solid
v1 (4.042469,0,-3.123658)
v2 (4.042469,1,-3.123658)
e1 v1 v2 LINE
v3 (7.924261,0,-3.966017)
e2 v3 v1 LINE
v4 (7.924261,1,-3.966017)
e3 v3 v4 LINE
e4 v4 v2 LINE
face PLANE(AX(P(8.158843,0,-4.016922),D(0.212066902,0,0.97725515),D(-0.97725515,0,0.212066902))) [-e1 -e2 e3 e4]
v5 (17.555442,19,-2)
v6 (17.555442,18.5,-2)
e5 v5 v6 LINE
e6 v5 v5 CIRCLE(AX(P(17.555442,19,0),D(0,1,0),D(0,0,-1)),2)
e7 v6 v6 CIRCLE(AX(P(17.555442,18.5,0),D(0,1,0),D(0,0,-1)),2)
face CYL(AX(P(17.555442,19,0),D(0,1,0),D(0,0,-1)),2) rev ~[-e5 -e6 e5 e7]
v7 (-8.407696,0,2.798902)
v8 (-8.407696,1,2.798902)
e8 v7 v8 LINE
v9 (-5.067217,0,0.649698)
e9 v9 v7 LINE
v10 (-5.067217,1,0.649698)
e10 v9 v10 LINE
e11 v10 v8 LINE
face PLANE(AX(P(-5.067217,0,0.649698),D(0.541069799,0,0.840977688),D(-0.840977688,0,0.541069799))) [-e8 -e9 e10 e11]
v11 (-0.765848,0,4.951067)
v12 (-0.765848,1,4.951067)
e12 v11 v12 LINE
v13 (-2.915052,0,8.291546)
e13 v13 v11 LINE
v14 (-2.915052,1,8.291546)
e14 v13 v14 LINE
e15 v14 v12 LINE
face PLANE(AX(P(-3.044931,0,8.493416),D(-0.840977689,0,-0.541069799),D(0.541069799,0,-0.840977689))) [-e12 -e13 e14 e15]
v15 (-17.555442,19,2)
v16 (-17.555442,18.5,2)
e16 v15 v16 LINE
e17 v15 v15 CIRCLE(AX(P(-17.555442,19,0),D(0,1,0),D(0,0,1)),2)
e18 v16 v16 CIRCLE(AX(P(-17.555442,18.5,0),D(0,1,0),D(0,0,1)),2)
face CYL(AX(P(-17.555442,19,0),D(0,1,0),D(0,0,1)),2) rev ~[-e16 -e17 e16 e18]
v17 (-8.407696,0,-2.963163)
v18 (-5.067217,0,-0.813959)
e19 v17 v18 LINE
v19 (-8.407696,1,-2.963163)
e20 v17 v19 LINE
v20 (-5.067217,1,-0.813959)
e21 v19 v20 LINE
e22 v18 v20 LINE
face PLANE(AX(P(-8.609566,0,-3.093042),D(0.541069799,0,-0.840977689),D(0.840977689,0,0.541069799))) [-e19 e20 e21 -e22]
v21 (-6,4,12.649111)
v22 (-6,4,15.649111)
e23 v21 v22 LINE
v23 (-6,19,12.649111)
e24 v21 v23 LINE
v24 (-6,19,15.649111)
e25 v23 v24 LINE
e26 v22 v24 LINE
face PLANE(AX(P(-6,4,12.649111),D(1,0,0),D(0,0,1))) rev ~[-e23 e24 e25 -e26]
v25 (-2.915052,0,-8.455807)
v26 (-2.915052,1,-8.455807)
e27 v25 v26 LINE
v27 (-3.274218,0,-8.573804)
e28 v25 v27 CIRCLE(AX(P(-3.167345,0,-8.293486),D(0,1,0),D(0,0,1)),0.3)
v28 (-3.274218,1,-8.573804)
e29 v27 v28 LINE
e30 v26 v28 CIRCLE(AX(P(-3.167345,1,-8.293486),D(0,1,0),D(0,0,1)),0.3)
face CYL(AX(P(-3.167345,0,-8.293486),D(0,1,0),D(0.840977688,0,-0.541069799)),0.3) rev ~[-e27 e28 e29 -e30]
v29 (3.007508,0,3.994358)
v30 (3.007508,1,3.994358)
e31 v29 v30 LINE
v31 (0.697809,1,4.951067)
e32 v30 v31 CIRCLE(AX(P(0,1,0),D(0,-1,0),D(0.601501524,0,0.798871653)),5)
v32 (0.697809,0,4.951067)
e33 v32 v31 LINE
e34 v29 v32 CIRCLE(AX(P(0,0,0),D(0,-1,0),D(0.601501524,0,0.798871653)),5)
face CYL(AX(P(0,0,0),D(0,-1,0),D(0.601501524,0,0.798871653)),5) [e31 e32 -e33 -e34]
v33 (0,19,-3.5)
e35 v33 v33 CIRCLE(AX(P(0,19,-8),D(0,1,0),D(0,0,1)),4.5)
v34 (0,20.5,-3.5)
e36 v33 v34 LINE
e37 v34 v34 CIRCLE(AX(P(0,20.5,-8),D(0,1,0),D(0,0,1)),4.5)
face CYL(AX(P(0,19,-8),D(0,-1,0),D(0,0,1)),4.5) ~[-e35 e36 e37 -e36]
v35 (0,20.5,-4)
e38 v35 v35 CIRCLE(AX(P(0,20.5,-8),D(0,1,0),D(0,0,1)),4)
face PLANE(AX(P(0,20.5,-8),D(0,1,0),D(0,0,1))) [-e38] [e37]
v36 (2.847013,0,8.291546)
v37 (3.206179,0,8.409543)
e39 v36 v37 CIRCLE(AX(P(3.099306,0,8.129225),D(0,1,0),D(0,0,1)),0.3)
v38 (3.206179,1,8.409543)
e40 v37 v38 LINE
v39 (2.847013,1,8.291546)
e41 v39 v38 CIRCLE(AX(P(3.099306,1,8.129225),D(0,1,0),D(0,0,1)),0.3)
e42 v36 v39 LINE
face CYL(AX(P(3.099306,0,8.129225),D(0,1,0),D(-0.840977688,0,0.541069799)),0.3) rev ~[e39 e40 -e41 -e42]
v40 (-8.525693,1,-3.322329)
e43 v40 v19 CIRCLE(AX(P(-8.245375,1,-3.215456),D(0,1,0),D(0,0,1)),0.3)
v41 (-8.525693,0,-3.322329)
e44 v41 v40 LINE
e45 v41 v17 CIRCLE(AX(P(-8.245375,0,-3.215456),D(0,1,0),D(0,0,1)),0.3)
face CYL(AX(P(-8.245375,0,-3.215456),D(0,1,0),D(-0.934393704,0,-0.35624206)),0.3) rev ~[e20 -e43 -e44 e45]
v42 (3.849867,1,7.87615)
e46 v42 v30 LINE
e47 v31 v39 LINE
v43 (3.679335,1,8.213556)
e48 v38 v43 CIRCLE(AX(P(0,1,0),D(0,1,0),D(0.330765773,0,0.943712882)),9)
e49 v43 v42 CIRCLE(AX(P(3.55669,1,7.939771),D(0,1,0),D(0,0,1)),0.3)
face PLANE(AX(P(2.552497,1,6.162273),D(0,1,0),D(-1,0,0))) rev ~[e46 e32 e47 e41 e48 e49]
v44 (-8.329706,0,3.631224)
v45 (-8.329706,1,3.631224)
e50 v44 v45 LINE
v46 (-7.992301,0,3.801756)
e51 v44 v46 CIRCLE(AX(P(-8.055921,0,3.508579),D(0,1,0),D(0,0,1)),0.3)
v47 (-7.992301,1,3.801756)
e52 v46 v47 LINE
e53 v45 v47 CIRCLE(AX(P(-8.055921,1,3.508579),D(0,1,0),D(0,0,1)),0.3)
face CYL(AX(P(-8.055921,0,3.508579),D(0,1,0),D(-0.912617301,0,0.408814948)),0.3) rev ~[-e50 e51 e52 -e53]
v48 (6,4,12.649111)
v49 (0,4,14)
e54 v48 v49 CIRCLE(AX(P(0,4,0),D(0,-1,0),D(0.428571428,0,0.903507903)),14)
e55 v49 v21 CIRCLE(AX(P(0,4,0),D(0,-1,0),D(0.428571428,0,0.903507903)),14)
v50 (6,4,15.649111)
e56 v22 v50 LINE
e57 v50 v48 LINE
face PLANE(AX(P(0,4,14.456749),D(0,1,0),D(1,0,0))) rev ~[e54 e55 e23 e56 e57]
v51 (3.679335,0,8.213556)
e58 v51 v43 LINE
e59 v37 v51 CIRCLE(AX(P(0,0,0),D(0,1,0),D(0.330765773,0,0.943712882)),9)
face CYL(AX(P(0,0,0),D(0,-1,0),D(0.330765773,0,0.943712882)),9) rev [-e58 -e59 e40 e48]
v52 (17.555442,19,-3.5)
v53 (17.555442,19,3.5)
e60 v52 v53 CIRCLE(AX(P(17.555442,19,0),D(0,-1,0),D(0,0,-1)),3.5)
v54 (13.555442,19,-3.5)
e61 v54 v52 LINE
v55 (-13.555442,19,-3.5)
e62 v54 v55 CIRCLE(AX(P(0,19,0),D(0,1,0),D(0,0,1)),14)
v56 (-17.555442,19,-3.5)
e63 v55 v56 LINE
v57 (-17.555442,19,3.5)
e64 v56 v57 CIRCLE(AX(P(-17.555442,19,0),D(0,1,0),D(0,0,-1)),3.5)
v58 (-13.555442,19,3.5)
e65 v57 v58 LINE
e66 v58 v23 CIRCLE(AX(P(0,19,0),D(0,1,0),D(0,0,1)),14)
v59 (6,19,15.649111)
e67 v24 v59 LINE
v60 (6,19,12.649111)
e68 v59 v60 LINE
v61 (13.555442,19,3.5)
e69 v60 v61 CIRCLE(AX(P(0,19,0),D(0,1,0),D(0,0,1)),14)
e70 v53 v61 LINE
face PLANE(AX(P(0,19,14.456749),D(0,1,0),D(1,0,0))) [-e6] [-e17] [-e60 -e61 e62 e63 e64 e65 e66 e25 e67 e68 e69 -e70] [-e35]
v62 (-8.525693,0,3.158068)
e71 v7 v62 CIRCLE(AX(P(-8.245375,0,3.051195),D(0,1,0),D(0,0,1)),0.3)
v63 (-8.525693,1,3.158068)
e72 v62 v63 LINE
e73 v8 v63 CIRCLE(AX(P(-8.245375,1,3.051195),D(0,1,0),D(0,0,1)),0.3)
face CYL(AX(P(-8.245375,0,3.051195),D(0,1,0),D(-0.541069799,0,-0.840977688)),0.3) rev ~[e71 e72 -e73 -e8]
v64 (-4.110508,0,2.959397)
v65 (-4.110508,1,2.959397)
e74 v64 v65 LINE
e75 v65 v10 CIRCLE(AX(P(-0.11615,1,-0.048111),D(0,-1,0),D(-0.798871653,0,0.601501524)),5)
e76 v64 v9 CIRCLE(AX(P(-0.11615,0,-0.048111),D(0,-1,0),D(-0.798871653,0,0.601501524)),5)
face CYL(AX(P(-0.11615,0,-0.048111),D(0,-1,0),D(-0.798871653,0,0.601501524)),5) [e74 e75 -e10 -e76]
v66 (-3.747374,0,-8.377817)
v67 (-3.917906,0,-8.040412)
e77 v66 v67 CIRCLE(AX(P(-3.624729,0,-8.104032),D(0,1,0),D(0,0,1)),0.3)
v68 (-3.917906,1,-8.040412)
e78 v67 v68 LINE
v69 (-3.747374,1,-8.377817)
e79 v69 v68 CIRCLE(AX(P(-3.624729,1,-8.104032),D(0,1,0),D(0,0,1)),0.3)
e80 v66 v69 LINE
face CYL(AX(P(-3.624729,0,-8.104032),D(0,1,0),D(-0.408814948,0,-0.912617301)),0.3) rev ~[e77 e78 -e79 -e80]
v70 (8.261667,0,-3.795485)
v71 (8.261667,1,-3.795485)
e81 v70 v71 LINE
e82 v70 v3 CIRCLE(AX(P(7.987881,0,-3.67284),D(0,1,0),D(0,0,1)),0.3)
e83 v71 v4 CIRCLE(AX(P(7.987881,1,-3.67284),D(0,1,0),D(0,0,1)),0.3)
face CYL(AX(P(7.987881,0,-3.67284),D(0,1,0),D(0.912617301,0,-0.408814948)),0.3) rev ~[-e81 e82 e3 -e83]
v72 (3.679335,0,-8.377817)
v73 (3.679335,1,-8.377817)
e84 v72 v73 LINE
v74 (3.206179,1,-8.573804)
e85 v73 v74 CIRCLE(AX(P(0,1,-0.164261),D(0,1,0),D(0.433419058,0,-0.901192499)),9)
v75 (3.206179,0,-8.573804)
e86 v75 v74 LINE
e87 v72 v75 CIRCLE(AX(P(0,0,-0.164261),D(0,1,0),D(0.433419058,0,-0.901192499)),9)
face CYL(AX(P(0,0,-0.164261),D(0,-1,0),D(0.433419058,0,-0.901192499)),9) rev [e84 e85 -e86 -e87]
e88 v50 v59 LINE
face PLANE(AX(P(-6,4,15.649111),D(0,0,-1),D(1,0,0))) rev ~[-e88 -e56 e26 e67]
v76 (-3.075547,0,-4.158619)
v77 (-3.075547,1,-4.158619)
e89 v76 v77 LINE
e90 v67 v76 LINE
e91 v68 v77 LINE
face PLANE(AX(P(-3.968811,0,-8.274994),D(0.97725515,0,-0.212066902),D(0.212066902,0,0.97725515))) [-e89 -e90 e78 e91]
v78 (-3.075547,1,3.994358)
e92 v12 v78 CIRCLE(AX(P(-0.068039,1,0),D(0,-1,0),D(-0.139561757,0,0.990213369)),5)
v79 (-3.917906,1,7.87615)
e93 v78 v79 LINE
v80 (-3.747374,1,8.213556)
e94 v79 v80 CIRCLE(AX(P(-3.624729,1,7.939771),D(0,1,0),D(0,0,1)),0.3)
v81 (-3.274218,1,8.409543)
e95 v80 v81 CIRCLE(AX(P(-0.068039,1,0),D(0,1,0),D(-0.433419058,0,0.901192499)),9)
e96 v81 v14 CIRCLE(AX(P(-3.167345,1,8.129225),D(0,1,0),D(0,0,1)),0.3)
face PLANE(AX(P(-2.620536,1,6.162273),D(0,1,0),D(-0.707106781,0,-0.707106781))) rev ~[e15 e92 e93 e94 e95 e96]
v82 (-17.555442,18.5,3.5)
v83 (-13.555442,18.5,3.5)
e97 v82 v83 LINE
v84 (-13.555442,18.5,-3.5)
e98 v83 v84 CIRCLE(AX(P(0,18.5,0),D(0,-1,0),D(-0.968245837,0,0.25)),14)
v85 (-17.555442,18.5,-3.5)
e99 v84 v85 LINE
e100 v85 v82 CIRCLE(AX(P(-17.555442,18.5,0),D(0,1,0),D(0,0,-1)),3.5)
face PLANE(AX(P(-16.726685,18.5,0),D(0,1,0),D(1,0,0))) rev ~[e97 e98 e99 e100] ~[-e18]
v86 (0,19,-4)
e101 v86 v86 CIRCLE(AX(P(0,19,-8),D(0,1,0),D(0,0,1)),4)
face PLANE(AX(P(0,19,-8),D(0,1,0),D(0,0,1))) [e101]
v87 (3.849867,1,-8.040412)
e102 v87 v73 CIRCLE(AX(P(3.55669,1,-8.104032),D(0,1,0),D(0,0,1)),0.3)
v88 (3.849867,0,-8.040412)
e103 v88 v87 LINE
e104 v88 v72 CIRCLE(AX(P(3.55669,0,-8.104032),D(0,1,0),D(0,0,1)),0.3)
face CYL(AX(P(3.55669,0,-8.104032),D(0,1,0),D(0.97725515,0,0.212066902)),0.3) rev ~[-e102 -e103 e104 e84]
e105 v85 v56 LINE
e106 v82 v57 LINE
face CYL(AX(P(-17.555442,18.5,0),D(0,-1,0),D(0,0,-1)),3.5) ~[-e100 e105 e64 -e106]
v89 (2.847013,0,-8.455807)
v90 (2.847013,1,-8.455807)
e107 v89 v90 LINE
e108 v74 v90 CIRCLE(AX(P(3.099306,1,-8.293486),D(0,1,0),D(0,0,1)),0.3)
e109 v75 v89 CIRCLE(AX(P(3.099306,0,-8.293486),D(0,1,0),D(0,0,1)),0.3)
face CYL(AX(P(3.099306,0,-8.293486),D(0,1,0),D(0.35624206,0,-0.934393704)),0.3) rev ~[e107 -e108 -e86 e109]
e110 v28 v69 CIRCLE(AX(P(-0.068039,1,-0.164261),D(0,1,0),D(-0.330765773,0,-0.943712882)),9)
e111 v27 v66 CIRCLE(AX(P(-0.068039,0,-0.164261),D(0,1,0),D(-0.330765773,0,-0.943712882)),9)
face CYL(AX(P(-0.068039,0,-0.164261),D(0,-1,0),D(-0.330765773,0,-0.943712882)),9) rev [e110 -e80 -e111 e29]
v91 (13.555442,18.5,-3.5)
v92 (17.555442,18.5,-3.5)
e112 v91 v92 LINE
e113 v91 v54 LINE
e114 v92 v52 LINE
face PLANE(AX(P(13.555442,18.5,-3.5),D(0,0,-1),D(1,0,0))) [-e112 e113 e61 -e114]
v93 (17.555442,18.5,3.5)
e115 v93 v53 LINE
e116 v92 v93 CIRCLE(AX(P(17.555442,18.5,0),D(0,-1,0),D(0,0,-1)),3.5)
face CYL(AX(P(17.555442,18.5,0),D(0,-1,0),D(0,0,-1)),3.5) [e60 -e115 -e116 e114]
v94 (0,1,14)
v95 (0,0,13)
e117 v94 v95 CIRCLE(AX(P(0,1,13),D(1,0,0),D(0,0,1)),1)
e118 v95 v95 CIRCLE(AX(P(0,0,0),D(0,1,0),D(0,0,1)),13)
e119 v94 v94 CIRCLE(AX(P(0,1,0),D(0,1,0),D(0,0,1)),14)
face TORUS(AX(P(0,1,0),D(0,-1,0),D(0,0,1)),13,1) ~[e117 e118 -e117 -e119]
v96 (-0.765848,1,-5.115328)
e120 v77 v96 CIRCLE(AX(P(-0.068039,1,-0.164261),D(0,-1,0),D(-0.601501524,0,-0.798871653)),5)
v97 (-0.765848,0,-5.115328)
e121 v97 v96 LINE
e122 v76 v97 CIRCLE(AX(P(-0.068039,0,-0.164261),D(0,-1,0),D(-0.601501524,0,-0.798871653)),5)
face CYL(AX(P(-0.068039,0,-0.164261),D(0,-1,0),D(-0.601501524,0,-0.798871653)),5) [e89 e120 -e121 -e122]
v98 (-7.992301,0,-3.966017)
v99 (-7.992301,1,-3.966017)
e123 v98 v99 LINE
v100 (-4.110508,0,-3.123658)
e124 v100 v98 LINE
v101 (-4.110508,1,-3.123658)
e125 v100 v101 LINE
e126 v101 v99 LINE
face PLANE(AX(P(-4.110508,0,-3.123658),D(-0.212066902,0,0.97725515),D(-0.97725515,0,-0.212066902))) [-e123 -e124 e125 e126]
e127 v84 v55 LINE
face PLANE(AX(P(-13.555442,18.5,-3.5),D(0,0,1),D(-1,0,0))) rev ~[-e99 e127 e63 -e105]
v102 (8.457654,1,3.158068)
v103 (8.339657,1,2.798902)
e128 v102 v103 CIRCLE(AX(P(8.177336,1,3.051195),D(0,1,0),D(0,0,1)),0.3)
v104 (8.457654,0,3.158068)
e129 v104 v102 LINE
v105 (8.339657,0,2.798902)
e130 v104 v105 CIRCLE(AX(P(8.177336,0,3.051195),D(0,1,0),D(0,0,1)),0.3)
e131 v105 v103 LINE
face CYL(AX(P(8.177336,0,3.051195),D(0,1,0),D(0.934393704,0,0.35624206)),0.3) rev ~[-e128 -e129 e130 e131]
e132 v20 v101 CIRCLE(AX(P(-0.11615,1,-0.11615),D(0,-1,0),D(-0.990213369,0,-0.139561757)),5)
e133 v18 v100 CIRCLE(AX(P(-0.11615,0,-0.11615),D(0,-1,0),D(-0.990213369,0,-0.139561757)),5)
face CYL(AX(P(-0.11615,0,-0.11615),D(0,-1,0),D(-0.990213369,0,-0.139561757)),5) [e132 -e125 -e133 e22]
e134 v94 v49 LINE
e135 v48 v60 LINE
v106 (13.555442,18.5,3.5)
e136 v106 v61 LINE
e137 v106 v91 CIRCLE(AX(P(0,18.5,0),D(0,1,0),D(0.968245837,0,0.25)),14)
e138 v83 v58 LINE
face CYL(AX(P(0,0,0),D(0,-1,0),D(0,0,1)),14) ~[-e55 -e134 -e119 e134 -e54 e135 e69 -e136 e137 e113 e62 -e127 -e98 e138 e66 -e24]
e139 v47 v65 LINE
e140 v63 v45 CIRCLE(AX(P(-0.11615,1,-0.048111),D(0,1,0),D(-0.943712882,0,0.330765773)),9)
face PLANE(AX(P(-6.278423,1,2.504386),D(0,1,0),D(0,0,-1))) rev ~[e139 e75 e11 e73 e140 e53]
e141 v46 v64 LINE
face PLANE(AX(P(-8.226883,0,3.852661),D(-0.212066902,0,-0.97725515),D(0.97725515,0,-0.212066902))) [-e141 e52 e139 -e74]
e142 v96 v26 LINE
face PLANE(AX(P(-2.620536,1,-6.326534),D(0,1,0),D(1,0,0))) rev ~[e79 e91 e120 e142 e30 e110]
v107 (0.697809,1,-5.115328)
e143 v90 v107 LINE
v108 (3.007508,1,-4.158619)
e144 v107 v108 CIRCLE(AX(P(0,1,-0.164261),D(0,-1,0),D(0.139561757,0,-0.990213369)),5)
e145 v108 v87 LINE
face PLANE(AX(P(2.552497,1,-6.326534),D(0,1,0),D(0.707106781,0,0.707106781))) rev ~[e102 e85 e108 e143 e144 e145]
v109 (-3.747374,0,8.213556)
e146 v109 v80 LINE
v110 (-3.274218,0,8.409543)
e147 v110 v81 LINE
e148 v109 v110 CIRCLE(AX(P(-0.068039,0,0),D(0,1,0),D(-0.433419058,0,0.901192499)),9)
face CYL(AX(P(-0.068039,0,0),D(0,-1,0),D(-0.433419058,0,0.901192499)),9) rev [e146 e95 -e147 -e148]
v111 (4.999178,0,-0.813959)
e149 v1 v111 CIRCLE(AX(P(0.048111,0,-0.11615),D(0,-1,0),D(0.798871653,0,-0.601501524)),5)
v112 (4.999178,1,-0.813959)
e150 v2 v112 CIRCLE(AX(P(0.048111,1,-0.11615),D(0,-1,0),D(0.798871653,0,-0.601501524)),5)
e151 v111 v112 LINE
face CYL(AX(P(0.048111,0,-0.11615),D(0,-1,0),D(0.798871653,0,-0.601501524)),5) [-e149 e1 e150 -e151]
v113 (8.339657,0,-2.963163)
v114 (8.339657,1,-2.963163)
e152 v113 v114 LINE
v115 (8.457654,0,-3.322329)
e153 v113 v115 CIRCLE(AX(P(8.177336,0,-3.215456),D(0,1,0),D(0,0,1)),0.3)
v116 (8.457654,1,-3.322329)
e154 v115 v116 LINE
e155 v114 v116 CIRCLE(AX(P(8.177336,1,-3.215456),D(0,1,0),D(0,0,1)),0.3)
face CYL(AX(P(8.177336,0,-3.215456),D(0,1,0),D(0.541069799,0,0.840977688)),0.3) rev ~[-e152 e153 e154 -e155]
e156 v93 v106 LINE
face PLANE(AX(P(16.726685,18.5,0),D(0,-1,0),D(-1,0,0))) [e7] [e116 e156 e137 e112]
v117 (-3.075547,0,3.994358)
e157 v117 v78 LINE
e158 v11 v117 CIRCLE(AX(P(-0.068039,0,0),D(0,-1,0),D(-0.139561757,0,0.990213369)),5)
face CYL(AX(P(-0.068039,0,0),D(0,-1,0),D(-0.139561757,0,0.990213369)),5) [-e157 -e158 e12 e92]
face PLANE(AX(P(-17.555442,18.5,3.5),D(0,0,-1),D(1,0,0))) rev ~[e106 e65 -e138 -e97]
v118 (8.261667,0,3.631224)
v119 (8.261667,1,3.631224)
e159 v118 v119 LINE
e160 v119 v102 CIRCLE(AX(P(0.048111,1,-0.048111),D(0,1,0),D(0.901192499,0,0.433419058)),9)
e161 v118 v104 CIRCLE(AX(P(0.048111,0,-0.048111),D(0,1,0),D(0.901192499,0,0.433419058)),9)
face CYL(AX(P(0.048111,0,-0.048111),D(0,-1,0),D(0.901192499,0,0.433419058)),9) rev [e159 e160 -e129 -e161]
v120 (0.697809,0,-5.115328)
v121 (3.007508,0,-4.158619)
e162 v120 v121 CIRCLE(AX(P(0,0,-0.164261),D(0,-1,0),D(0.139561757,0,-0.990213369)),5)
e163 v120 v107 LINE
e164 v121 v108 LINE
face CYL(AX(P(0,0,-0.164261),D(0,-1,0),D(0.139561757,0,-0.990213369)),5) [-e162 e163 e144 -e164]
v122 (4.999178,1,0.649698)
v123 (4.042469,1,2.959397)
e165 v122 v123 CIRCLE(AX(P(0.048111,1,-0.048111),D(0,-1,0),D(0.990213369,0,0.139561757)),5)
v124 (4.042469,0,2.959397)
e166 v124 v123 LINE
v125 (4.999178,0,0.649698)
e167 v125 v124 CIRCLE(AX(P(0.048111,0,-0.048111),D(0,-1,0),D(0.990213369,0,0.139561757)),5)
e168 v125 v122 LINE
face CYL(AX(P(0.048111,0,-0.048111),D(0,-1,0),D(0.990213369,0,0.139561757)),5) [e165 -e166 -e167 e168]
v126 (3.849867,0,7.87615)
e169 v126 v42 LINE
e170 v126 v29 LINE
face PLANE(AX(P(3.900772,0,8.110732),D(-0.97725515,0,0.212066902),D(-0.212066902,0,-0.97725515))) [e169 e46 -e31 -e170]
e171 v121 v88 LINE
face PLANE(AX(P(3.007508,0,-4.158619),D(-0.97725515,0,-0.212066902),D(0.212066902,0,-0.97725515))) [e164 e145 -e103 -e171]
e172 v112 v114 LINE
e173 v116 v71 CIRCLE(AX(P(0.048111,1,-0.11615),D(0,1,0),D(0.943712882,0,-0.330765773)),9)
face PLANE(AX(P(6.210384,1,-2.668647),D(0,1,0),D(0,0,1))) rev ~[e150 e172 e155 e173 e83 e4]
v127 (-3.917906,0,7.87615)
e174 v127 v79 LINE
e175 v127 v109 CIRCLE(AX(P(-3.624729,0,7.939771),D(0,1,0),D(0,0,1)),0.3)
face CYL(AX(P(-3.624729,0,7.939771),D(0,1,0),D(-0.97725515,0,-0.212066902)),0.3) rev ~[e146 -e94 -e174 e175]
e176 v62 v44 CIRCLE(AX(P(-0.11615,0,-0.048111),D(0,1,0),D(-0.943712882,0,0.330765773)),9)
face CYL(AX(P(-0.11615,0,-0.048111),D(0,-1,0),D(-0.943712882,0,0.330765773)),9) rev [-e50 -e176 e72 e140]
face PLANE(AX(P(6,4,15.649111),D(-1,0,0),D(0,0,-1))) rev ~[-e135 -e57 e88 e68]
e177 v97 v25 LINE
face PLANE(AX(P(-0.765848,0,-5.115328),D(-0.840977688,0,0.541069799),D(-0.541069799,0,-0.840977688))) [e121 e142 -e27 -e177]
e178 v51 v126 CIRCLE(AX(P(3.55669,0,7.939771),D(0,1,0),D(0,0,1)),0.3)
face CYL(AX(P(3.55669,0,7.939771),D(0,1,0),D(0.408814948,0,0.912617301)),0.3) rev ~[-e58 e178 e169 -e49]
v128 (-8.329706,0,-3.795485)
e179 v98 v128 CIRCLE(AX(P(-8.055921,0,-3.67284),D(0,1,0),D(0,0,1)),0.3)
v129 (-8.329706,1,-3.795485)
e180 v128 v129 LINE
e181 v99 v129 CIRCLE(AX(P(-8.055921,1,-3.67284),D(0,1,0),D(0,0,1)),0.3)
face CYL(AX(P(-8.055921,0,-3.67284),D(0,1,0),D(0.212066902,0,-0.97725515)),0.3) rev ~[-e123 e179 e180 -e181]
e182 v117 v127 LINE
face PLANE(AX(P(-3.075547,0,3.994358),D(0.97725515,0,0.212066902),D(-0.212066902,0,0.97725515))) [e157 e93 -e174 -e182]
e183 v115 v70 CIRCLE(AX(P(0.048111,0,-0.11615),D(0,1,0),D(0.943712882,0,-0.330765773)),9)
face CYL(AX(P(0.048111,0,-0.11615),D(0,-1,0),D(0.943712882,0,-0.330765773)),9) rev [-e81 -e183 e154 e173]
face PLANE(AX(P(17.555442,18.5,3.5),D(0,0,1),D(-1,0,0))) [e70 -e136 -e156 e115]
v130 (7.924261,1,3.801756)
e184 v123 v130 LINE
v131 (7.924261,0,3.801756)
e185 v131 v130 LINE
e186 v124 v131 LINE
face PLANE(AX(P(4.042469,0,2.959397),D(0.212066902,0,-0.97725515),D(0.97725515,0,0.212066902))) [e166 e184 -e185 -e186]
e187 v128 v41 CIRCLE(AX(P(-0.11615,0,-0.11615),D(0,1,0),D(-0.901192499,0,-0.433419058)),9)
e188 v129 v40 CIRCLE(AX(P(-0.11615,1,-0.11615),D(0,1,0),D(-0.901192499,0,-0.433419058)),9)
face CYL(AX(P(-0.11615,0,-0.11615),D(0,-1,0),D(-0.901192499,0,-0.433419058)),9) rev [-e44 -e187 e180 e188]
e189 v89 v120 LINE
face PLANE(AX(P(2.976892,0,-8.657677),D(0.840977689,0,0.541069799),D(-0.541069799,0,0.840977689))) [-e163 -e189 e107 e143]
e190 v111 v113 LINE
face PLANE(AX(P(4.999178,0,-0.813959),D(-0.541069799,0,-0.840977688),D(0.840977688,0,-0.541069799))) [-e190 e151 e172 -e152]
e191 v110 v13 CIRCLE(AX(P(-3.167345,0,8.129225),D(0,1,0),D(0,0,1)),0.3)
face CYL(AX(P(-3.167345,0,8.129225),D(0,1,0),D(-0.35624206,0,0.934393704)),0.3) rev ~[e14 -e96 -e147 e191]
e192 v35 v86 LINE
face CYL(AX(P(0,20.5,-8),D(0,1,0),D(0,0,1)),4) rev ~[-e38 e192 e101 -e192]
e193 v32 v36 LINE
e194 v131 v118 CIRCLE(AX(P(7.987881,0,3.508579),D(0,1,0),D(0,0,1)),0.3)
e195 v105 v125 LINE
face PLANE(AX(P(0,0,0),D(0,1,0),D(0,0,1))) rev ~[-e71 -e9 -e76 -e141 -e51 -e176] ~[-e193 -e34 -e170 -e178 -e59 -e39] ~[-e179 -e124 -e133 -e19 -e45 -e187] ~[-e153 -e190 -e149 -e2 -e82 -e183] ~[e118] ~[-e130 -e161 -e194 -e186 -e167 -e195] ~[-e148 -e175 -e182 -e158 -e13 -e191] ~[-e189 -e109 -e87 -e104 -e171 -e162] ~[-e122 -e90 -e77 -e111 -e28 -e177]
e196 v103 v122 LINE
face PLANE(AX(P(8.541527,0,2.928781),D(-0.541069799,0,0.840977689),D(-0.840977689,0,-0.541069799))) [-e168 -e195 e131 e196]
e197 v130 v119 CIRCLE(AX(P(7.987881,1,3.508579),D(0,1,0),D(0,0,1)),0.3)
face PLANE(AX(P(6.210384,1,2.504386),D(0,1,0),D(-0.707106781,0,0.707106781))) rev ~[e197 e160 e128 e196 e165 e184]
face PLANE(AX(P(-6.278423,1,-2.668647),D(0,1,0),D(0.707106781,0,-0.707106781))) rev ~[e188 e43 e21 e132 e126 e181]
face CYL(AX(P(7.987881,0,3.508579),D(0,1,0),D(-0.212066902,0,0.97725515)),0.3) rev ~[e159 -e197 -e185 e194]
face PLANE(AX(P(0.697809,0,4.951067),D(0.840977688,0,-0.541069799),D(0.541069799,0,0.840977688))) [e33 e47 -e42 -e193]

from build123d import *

# Parameters (mm, degrees)
SKETCH_1_R                       = 14
EXTRUDE_1_DEPTH                  = 19
SKETCH_2_R                       = 4.5
EXTRUDE_2_DEPTH                  = 1.5
SKETCH_3_R                       = 4
CUT_EXTRUDE_1_DEPTH              = 1.5
EXTRUDE_START                    = -0.5
EXTRUDE_3_DEPTH                  = 0.5
SKETCH_5_R                       = 2
CUT_EXTRUDE_2_DEPTH              = 32.628019629
EXTRUDE_START_2                  = -15
EXTRUDE_4_DEPTH                  = 15
FILLET_1_R                       = 1
CUT_EXTRUDE_3_DEPTH              = 1
FILLET_2_R                       = 0.3
PATTERN_CIRCULAR_1_COUNT         = 8
FILLET_2_OF_PATTERN_CIRCULAR_1_R = 0.3


with BuildPart() as part:
    # 草图1 → 凸台-拉伸1 (new body)
    with BuildSketch(Plane(origin=(0, 0, 0), x_dir=(1, 0, 0), z_dir=(0, 1, 0))):
        with Locations(Location((0, 0, 0), (0, 0, 270))):
            Circle(SKETCH_1_R)
    extrude(amount=EXTRUDE_1_DEPTH)

    # 草图2 → 凸台-拉伸2 (add)
    with BuildSketch(Plane(origin=(0, 19, 0), x_dir=(1, 0, 0), z_dir=(0, 1, 0))):
        with Locations(Location((0, 8, 0), (0, 0, 270))):
            Circle(SKETCH_2_R)
    extrude(amount=EXTRUDE_2_DEPTH)

    # 草图3 → 切除-拉伸1 (cut)
    with BuildSketch(Plane(origin=(0, 20.5, 0), x_dir=(1, 0, 0), z_dir=(0, 1, 0))):
        with Locations(Location((0, 8, 0), (0, 0, 270))):
            Circle(SKETCH_3_R)
    extrude(amount=-CUT_EXTRUDE_1_DEPTH, mode=Mode.SUBTRACT)

    # 草图4 → 凸台-拉伸3 (add)
    with BuildSketch(Plane(origin=(0, 19, 0), x_dir=(1, 0, 0), z_dir=(0, 1, 0)).offset(EXTRUDE_START)):
        with BuildLine():
            Line((-13.555441712, 3.5), (-17.555441712, 3.5))
            ThreePointArc((-17.555441712, 3.5), (-21.055441712, 0), (-17.555441712, -3.5))
            Line((-17.555441712, -3.5), (-13.555441712, -3.5))
            ThreePointArc((-13.555441712, -3.5), (-14, 0), (-13.555441712, 3.5))
        make_face()
        with BuildLine():
            Line((13.555441712, 3.5), (17.555441712, 3.5))
            ThreePointArc((17.555441712, 3.5), (21.055441712, 0), (17.555441712, -3.5))
            Line((17.555441712, -3.5), (13.555441712, -3.5))
            ThreePointArc((13.555441712, -3.5), (14, 0), (13.555441712, 3.5))
        make_face()
    extrude(amount=EXTRUDE_3_DEPTH)

    # 草图5 → 切除-拉伸2 (cut, through all)
    with BuildSketch(Plane(origin=(0, 19, 0), x_dir=(1, 0, 0), z_dir=(0, 1, 0))):
        with Locations(Location((-17.555441712, 0, 0), (0, 0, 270))):
            Circle(SKETCH_5_R)
        with Locations(Location((17.555441712, 0, 0), (0, 0, 90))):
            Circle(SKETCH_5_R)
    extrude(amount=-CUT_EXTRUDE_2_DEPTH, mode=Mode.SUBTRACT)

    # 草图6 → 凸台-拉伸4 (add)
    with BuildSketch(Plane(origin=(0, 19, 0), x_dir=(1, 0, 0), z_dir=(0, 1, 0)).offset(EXTRUDE_START_2)):
        with BuildLine():
            Line((-6, -12.649110641), (-6, -15.649110641))
            Line((-6, -15.649110641), (6, -15.649110641))
            Line((6, -15.649110641), (6, -12.649110641))
            ThreePointArc((6, -12.649110641), (0, -14), (-6, -12.649110641))
        make_face()
    extrude(amount=EXTRUDE_4_DEPTH)

    # 圆角1
    fillet_1_edges = [part.edges().sort_by_distance(p)[0] for p in [
        (0, 0, -14),
    ]]
    fillet(fillet_1_edges, radius=FILLET_1_R)

    # 草图7 → 切除-拉伸3 (cut)
    with BuildSketch(Plane.XZ):
        with BuildLine():
            Line((0.697808785, 4.951066845), (2.97689197, 8.493415932))
            ThreePointArc((2.97689197, 8.493415932), (3.444150891, 8.314915793), (3.900771502, 8.1107325))
            Line((3.900771502, 8.1107325), (3.007507616, 3.994358264))
            ThreePointArc((3.007507616, 3.994358264), (1.913417162, 4.619397663), (0.697808785, 4.951066845))
        make_face()
    cut_extrude_3 = extrude(amount=-CUT_EXTRUDE_3_DEPTH, mode=Mode.SUBTRACT)

    # 圆角2
    fillet_2_edges = [part.edges().sort_by_distance(p)[0] for p in [
        (2.97689197, 0.5, 8.493415932),
        (3.900771502, 0.5, 8.1107325),
    ]]
    fillet(fillet_2_edges, radius=FILLET_2_R)

    # 阵列(圆周)1: 切除-拉伸3 ×8 about axis
    pattern_circular_1_axis = Axis((-0.034019588, 0, -0.082130551), (0, 1, 0))
    for i in range(1, PATTERN_CIRCULAR_1_COUNT):
        add(cut_extrude_3.rotate(pattern_circular_1_axis, i * 360 / PATTERN_CIRCULAR_1_COUNT), mode=Mode.SUBTRACT)

    # 圆角2 of 阵列(圆周)1
    fillet_2_of_pattern_circular_1_edges = [part.edges().sort_by_distance(p)[0] for p in [
        (8.158843463, 0.5, 3.85266054),
        (8.541526895, 0.5, 2.928781007),
        (8.541526895, 0.5, -3.093042109),
        (8.158843463, 0.5, -4.016921641),
        (3.900771502, 0.5, -8.274993601),
        (2.97689197, 0.5, -8.657677034),
        (-3.044931146, 0.5, -8.657677034),
        (-3.968810678, 0.5, -8.274993601),
        (-8.226882639, 0.5, -4.016921641),
        (-8.609566071, 0.5, -3.093042109),
        (-8.609566071, 0.5, 2.928781007),
        (-8.226882639, 0.5, 3.85266054),
        (-3.968810678, 0.5, 8.1107325),
        (-3.044931146, 0.5, 8.493415932),
    ]]
    fillet(fillet_2_of_pattern_circular_1_edges, radius=FILLET_2_OF_PATTERN_CIRCULAR_1_R)


solid = part.part
